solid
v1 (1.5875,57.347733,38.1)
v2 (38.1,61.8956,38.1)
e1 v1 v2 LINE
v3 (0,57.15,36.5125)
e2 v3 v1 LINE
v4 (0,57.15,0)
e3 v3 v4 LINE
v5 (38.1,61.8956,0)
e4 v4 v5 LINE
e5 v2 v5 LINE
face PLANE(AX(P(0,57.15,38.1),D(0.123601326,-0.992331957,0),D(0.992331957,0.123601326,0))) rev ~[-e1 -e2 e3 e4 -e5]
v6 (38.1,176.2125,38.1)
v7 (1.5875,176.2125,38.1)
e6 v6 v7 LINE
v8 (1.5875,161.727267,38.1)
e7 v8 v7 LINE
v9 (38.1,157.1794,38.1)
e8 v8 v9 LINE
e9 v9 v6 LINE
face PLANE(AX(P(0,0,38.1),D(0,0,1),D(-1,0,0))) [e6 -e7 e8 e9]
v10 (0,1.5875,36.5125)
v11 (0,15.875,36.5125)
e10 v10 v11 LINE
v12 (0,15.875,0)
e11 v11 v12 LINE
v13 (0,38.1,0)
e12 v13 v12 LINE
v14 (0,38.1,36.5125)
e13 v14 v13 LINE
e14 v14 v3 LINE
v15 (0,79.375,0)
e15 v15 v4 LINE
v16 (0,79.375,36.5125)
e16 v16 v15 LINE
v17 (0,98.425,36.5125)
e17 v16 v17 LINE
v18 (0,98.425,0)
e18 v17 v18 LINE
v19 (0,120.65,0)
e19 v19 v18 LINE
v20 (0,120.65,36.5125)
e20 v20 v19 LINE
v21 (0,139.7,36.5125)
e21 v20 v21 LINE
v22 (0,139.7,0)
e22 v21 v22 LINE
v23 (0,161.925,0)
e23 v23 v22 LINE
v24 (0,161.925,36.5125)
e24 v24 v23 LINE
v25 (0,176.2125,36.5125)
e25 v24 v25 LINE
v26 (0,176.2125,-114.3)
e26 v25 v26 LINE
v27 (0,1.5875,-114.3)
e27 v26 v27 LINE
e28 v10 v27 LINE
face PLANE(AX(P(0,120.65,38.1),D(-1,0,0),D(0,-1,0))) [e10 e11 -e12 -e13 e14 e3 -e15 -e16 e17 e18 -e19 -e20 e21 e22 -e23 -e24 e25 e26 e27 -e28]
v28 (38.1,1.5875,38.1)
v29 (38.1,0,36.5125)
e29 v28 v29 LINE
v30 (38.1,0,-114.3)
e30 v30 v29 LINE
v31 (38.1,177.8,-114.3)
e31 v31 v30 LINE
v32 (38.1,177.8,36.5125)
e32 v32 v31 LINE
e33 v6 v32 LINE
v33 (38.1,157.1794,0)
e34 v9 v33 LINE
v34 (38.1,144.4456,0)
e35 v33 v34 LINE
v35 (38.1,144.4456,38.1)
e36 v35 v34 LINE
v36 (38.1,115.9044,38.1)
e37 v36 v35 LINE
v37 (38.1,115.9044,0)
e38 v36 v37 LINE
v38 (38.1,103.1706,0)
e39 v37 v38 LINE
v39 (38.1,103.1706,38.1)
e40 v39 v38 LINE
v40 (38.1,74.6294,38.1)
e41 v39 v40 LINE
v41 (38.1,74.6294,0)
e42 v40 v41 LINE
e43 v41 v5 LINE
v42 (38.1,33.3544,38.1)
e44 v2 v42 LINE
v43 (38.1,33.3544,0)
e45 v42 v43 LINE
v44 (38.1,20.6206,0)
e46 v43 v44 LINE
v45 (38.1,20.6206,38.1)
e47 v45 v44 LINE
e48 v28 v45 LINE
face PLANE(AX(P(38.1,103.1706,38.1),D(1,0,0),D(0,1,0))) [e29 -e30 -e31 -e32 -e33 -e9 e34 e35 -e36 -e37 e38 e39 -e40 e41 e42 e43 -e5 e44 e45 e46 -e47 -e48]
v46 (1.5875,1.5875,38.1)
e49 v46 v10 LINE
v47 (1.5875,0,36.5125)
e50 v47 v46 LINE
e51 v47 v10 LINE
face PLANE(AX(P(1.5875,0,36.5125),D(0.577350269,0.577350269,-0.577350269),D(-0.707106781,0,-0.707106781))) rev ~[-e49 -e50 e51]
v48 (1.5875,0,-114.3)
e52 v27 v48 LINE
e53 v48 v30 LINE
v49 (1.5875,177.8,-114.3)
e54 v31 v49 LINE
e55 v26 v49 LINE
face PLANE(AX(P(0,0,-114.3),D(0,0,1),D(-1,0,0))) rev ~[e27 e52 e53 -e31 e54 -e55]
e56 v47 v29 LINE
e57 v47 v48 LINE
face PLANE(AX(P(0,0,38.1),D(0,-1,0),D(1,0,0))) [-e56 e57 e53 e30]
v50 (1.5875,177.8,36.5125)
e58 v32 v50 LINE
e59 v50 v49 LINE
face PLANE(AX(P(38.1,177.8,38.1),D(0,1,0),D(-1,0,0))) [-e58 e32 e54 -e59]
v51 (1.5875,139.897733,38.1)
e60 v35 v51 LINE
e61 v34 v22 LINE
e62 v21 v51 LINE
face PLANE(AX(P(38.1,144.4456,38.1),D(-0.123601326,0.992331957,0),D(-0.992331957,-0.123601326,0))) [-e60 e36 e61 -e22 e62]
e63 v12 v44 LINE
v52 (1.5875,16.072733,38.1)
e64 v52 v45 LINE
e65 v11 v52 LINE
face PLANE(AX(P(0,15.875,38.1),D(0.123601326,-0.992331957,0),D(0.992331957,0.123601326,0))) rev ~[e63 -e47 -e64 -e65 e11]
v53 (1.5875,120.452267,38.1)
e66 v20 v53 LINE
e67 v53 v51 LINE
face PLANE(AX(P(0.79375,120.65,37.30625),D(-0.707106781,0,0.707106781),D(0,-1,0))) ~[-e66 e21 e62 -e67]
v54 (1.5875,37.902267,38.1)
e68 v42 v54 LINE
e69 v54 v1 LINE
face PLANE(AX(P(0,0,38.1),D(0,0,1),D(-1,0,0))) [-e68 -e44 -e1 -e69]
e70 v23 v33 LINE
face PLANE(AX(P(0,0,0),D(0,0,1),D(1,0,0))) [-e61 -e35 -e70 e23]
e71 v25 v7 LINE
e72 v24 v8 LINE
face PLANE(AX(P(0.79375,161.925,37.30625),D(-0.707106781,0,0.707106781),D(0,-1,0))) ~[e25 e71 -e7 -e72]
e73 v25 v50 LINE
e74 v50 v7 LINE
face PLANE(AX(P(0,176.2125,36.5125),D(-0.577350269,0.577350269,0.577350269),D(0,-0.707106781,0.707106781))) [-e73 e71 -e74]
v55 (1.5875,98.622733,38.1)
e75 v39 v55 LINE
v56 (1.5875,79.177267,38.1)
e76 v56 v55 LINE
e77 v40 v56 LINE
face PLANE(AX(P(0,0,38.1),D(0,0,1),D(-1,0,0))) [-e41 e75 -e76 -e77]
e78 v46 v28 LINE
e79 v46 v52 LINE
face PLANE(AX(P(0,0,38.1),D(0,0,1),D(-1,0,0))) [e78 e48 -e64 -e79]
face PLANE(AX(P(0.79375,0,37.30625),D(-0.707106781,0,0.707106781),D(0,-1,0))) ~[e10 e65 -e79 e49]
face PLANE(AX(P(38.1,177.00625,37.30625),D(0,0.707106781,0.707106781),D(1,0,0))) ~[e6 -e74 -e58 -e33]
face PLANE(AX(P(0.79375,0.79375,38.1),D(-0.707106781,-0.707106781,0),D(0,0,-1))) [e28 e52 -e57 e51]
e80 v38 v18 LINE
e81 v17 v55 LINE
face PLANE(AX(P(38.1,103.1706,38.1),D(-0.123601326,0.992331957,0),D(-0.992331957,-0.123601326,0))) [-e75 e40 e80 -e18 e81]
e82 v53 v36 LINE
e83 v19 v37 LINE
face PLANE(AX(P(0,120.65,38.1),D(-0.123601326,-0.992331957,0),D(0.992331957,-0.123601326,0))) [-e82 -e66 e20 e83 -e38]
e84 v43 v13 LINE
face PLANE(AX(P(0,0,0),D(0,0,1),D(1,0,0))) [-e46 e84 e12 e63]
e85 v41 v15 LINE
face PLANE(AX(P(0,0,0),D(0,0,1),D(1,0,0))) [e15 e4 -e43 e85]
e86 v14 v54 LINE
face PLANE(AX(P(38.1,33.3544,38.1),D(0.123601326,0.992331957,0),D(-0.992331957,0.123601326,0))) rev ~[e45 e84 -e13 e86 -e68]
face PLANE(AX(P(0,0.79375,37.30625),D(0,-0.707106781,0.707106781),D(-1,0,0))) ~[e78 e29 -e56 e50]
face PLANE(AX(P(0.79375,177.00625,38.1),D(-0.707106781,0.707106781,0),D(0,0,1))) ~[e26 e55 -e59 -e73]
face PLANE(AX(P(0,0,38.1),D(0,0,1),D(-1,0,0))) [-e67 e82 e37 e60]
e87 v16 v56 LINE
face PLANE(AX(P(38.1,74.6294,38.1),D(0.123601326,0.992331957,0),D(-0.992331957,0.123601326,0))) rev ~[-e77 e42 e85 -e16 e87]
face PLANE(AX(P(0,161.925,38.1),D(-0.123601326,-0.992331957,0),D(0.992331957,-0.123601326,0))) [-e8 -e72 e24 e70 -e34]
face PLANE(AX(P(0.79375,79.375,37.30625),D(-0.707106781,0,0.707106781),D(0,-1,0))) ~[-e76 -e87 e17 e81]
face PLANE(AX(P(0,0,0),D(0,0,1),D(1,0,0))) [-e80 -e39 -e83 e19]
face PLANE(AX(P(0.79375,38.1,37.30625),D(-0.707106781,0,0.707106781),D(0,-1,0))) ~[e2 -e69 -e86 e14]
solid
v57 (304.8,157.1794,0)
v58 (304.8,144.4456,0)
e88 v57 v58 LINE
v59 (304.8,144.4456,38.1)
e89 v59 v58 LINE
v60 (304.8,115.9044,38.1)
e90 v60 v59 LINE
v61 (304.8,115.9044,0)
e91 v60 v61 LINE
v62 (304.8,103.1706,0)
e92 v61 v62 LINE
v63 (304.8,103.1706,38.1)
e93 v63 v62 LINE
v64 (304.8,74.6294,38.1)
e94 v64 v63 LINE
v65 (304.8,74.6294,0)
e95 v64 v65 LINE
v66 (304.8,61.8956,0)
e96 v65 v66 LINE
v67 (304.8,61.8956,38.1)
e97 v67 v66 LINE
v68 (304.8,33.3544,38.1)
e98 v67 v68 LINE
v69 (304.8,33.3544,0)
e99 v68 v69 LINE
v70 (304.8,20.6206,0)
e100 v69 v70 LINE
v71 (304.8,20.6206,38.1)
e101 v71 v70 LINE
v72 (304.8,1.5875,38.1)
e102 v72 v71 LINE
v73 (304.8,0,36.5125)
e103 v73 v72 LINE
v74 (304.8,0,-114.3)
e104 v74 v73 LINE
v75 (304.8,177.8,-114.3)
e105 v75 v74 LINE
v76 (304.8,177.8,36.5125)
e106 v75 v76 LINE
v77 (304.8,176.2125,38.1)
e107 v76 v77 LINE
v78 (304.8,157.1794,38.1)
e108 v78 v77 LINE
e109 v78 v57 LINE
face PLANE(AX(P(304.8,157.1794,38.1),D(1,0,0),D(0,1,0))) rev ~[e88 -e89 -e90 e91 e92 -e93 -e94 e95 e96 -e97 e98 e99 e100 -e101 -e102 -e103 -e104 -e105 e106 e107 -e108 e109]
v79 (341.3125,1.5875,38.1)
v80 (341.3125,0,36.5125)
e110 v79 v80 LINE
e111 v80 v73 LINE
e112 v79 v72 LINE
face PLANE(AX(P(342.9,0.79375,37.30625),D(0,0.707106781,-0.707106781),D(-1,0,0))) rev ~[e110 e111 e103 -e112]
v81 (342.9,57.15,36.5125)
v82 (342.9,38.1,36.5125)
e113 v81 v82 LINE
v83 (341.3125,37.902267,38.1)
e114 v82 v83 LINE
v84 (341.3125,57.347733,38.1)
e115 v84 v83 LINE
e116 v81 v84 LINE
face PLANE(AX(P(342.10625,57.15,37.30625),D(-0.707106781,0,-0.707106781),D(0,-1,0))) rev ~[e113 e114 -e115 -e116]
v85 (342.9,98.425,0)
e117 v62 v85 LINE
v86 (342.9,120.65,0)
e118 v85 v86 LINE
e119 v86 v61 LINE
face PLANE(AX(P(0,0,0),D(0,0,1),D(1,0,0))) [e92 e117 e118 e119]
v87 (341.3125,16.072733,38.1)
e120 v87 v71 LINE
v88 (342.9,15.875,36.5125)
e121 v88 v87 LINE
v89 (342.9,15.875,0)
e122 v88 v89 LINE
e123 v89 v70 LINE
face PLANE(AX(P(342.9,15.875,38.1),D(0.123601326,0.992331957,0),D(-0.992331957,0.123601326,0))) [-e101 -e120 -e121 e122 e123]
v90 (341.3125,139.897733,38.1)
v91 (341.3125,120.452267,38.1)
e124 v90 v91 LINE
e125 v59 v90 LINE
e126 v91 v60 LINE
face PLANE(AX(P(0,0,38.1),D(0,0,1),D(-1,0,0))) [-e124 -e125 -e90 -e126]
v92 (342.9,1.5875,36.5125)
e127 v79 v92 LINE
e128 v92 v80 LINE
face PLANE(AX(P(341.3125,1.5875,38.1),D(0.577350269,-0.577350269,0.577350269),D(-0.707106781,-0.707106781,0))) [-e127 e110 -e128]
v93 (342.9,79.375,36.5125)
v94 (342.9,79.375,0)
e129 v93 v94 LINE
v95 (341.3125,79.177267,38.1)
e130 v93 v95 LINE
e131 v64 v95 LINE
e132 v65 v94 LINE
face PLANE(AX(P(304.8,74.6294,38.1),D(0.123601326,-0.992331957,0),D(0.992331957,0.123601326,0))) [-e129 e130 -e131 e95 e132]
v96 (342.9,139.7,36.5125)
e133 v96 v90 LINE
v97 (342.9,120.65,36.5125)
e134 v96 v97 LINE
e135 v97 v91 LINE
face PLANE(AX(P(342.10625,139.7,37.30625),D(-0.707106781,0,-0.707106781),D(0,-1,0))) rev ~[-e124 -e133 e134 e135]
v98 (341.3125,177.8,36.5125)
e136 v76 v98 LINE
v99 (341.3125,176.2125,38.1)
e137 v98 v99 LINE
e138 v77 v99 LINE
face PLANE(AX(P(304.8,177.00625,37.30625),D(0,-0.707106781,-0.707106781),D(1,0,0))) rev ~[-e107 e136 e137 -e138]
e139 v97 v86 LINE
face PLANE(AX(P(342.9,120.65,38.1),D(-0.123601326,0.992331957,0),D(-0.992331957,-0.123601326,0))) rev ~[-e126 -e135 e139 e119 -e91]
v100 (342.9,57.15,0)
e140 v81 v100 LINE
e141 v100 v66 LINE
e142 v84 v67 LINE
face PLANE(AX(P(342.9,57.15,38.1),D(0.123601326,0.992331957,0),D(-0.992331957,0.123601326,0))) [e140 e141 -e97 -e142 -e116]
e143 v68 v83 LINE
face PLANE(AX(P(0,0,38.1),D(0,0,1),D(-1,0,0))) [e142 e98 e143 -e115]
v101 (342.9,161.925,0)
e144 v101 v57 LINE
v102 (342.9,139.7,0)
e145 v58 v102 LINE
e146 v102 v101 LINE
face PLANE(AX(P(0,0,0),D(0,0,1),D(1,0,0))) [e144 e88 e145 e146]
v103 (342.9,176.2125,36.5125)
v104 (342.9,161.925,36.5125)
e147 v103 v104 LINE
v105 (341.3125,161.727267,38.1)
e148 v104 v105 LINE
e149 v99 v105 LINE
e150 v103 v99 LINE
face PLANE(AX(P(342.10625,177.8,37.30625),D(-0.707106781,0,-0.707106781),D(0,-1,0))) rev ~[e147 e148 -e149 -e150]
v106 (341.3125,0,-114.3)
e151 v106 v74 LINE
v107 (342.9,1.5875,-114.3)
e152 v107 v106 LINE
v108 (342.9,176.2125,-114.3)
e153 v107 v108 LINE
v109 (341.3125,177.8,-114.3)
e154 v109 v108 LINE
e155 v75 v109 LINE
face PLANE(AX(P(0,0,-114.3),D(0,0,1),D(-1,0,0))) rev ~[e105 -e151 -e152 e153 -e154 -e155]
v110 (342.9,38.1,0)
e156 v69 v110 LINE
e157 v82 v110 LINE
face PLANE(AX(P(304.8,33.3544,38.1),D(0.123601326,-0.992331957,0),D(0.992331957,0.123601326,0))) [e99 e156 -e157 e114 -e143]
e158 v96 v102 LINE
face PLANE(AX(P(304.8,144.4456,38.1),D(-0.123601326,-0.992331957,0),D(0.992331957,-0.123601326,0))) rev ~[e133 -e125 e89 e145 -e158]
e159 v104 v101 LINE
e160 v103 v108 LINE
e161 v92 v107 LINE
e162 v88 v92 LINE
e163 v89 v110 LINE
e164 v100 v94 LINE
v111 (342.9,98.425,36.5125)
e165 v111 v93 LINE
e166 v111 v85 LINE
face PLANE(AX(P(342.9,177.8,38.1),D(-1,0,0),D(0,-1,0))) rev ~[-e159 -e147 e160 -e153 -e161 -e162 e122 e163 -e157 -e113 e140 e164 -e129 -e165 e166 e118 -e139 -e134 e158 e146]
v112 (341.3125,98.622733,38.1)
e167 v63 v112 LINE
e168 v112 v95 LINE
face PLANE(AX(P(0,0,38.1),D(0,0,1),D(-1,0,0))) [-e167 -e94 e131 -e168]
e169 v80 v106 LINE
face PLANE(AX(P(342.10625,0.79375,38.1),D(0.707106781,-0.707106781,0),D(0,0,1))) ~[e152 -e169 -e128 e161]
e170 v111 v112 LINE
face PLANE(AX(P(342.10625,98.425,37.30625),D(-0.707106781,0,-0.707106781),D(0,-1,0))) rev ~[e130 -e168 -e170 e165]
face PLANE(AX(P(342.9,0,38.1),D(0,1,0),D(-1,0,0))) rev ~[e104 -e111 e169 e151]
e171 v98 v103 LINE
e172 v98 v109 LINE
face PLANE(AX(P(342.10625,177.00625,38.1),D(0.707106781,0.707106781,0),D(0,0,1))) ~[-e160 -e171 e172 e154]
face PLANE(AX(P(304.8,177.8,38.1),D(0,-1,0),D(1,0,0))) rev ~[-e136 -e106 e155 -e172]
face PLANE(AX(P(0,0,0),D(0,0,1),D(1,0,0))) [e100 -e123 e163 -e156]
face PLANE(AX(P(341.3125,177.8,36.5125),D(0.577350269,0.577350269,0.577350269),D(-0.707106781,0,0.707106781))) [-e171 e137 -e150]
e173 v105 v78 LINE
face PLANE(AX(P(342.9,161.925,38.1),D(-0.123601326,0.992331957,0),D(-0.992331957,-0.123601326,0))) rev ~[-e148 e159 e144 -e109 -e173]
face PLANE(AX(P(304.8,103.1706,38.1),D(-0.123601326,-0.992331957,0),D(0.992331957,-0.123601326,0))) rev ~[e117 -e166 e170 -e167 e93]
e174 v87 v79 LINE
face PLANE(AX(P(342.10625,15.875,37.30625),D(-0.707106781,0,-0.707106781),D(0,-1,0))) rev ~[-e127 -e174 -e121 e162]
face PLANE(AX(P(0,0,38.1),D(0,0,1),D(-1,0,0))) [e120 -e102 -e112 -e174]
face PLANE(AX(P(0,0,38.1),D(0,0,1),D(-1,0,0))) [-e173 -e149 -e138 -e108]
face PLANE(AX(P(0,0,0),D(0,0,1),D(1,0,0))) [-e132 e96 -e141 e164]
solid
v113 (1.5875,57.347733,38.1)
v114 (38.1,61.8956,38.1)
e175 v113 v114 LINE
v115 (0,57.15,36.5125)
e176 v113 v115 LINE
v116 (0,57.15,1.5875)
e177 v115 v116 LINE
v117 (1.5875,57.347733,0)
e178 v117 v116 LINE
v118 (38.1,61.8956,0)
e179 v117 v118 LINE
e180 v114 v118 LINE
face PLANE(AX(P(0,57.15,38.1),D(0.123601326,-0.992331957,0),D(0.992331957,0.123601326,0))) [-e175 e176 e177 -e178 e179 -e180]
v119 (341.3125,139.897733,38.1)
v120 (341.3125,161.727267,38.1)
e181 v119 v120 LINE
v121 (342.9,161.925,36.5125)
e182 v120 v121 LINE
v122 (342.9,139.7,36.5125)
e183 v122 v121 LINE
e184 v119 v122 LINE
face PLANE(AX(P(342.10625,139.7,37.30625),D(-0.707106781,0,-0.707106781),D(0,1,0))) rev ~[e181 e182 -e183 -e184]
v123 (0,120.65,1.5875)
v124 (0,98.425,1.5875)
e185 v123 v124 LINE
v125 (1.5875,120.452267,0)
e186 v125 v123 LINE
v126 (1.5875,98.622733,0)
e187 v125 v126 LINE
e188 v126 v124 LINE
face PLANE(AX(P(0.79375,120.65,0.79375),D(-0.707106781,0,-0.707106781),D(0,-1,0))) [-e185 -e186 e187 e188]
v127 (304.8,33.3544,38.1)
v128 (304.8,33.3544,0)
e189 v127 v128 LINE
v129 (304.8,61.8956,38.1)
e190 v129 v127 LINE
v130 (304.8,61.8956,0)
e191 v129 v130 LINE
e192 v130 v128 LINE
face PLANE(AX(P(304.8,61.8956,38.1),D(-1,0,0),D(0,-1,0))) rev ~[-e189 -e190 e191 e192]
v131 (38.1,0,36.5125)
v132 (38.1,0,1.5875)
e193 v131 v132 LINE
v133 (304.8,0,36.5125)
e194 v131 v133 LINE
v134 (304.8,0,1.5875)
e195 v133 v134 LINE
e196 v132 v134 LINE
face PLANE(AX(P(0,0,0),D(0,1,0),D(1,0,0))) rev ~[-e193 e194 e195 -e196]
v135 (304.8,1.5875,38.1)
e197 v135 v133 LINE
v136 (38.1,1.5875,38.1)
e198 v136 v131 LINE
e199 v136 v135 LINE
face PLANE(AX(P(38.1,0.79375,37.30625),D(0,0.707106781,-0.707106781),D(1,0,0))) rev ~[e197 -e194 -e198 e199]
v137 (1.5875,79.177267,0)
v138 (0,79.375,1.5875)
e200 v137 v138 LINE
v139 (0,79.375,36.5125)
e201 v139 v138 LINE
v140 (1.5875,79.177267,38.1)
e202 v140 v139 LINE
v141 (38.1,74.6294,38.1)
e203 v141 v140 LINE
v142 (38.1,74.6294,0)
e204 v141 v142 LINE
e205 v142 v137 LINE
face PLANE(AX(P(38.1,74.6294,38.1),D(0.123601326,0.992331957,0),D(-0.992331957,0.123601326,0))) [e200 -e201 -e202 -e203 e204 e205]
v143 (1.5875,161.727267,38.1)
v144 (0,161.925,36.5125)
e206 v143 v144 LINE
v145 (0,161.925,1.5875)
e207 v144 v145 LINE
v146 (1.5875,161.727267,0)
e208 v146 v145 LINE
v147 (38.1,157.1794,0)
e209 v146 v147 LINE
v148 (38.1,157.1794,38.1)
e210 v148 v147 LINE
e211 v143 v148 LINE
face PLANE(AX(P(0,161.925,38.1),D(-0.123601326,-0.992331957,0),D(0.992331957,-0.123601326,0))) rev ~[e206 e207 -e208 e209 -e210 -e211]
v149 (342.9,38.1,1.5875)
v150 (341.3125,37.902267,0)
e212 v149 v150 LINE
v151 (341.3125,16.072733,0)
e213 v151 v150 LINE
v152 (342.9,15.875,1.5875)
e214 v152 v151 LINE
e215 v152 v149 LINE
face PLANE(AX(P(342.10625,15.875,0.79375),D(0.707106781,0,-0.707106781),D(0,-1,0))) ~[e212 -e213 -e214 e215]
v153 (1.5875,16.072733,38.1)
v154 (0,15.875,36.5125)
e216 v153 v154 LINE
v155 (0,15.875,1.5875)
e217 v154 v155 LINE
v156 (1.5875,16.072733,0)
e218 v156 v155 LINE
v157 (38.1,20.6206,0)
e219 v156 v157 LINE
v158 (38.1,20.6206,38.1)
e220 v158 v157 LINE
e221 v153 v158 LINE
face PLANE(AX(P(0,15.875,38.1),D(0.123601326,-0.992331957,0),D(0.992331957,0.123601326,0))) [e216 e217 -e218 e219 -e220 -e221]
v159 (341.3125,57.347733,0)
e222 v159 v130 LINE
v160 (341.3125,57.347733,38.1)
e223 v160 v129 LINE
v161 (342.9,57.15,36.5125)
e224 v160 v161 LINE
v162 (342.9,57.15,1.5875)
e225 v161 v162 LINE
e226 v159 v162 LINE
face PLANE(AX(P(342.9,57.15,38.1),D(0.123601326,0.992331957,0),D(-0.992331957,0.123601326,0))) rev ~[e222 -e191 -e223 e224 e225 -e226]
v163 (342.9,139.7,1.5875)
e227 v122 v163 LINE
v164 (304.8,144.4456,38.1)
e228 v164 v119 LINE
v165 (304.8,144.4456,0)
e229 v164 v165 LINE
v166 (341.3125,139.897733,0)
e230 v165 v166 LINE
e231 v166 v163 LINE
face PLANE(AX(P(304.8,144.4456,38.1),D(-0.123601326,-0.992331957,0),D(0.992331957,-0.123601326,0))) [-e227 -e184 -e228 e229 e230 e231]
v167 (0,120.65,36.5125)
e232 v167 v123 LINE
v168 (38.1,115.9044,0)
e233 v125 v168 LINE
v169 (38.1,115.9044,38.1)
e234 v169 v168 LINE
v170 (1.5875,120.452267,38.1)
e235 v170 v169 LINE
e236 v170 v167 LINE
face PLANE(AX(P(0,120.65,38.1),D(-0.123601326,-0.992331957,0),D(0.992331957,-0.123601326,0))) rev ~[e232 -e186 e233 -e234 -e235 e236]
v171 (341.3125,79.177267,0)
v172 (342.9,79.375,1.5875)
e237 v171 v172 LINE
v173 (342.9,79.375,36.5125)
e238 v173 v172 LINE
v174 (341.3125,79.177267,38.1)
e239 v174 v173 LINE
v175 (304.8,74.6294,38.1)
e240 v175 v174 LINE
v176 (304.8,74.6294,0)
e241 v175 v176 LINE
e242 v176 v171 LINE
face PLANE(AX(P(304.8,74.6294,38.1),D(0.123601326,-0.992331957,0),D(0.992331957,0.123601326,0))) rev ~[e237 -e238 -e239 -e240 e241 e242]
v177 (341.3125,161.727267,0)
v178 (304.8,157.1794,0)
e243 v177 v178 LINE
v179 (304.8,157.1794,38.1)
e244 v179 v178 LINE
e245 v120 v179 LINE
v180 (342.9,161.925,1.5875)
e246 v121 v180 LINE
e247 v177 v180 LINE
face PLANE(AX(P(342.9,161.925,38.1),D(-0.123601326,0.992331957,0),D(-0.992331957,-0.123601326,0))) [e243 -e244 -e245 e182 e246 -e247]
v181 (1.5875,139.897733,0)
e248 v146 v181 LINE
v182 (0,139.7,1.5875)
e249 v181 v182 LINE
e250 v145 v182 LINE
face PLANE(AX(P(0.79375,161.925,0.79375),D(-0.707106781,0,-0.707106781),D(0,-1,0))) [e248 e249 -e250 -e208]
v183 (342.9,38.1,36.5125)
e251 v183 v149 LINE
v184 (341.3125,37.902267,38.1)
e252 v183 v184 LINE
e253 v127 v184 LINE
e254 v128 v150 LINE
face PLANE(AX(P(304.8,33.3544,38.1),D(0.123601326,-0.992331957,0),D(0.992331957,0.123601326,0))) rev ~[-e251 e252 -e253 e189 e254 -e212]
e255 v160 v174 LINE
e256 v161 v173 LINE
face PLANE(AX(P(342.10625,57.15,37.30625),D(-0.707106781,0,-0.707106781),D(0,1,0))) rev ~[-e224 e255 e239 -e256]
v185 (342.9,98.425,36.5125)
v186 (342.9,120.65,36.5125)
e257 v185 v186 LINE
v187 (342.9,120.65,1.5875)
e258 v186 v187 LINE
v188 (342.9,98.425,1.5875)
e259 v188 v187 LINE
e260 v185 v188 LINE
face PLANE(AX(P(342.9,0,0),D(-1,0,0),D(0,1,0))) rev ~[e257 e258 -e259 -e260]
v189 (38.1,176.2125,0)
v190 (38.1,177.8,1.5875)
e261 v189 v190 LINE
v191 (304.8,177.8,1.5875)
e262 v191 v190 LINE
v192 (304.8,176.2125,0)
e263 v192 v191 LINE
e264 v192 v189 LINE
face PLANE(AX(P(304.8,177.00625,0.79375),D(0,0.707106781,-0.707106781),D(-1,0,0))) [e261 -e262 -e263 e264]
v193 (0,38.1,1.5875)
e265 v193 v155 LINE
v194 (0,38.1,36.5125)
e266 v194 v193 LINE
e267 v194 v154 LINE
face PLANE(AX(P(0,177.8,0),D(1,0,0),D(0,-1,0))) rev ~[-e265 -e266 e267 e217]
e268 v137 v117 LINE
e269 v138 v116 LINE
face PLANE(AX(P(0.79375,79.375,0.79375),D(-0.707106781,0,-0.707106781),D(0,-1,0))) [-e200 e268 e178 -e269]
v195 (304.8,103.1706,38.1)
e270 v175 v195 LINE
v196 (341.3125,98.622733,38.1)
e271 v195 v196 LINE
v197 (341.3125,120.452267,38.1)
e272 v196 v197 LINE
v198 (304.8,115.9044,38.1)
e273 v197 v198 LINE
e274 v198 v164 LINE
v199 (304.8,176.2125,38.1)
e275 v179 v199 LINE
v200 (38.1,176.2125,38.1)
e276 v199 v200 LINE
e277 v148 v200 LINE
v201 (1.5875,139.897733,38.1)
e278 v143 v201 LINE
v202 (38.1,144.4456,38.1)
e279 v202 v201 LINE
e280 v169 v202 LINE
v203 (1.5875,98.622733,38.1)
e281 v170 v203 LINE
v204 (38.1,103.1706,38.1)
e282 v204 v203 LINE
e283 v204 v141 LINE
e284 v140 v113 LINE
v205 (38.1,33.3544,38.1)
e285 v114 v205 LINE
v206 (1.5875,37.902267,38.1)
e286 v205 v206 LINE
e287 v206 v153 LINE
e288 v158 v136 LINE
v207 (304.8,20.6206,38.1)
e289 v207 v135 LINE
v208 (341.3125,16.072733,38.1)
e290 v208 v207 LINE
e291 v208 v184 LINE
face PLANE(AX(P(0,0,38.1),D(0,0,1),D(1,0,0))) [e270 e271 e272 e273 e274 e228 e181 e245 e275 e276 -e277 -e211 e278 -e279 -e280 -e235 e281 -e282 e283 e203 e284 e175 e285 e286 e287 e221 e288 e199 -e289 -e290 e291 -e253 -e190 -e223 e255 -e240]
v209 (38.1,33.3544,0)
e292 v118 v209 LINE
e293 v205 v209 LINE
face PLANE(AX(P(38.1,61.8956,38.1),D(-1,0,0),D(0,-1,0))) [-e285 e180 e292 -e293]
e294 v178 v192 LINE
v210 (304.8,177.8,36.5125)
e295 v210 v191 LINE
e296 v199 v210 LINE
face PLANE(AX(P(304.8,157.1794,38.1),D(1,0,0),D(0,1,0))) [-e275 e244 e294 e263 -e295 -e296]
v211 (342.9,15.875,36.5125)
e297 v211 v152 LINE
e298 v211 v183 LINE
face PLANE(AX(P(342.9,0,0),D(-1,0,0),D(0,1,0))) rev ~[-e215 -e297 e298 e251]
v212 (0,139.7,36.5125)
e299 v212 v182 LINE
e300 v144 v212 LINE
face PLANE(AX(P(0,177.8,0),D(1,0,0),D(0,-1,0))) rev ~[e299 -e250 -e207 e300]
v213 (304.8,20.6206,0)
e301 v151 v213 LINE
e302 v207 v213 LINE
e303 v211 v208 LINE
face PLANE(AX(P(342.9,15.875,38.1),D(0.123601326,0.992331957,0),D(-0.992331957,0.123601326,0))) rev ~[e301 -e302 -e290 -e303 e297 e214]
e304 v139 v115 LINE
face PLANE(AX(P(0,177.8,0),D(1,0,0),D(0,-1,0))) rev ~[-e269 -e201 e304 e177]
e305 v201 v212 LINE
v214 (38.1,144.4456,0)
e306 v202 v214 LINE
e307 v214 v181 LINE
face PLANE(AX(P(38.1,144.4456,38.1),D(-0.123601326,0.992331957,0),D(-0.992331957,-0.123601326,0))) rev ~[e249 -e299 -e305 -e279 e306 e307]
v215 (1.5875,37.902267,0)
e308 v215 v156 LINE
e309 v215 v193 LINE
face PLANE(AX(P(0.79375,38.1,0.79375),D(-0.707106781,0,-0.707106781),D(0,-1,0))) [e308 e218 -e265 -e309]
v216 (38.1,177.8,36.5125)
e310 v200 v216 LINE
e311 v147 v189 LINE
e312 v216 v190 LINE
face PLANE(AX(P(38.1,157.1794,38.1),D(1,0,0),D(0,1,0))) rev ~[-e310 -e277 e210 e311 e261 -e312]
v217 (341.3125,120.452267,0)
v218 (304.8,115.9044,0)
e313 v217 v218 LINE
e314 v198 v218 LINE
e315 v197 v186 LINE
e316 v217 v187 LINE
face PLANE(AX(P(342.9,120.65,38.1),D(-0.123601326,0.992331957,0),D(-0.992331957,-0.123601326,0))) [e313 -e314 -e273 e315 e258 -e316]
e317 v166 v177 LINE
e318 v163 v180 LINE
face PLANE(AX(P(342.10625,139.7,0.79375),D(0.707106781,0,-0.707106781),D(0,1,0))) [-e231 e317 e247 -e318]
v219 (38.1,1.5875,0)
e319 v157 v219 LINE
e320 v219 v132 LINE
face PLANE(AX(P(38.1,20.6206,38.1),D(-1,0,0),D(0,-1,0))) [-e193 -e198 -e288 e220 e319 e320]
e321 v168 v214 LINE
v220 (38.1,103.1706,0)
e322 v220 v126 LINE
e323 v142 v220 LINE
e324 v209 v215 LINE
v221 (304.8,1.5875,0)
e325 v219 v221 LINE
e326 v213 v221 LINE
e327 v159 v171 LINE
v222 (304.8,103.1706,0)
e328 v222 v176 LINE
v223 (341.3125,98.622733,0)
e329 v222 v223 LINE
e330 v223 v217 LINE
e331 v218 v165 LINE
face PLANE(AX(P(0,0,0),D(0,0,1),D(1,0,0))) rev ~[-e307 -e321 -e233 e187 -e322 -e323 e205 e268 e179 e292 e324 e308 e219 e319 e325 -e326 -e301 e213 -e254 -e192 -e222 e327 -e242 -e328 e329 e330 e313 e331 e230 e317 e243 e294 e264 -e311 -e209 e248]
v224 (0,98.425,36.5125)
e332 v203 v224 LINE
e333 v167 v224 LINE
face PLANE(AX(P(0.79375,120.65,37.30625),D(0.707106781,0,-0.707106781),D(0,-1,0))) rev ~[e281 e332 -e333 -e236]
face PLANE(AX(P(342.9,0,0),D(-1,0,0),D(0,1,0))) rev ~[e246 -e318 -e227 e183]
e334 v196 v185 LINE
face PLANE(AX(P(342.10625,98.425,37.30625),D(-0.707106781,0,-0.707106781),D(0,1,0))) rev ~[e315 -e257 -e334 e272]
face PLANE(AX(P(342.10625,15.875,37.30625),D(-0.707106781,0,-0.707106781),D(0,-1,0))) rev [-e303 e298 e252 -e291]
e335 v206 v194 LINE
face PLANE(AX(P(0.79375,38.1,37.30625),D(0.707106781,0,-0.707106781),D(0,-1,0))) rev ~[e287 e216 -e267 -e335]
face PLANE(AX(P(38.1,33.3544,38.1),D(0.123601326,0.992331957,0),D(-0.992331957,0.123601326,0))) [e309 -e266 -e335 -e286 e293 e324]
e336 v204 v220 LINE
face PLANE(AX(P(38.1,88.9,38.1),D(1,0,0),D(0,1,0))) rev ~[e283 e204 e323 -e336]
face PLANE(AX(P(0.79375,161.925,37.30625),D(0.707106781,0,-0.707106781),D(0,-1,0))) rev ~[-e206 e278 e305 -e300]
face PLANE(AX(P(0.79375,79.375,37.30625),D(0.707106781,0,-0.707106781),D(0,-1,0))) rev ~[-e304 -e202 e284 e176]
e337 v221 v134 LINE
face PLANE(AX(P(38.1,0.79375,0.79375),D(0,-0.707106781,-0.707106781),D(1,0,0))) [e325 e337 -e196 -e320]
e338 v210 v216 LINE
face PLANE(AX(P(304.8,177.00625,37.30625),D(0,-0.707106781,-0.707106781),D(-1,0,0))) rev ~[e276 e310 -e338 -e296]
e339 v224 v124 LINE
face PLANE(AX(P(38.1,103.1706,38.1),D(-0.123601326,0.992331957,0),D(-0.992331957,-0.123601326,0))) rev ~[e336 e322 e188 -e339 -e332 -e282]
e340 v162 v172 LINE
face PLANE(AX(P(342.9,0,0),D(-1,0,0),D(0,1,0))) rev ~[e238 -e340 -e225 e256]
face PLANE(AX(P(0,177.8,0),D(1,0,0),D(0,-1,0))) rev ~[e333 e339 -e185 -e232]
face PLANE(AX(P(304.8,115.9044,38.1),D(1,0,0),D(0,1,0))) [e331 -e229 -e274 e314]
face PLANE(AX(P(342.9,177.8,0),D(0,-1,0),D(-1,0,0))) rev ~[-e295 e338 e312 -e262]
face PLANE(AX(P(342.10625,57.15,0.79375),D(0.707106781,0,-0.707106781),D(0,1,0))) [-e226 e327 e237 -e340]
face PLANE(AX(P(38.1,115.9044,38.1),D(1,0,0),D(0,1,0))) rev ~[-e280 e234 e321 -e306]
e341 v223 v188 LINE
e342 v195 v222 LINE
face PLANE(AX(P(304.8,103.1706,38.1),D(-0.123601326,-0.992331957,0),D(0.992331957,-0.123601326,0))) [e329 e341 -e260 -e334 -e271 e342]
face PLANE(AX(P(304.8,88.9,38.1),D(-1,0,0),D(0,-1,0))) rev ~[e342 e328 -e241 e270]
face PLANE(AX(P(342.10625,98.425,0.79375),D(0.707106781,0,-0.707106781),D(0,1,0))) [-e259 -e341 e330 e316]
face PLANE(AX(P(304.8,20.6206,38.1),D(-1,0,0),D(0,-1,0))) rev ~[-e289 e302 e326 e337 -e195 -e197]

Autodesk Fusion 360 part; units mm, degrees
sketch "Sketch1" plane through (0, 0, 0) normal (0, 0, 1) x (1, 0, 0) in component "Top"
  line L0 (38.1, 184.15) -> (38.1, 0) construction
  line L1 (342.9, 92.075) -> (0, 92.075) construction
  line L2 (38.1, 92.075) -> (38.1, 74.6294)
  line L3 (38.1, 74.6294) -> (0, 79.375)
  line L4 (0, 79.375) -> (0, 57.15)
  line L5 (0, 57.15) -> (38.1, 61.8956)
  line L6 (38.1, 61.8956) -> (38.1, 33.3544)
  line L7 (38.1, 33.3544) -> (0, 38.1)
  line L8 (0, 38.1) -> (0, 15.875)
  line L9 (0, 15.875) -> (38.1, 20.6206)
  line L10 (38.1, 20.6206) -> (38.1, 0)
  line L11 (0, 92.075) -> (0, 0) construction
  line L12 (38.1, 163.5294) -> (38.1, 184.15)
  line L13 (0, 168.275) -> (38.1, 163.5294)
  line L14 (0, 146.05) -> (0, 168.275)
  line L15 (38.1, 150.7956) -> (0, 146.05)
  line L16 (38.1, 122.2544) -> (38.1, 150.7956)
  line L17 (0, 127) -> (38.1, 122.2544)
  line L18 (0, 104.775) -> (0, 127)
  line L19 (38.1, 109.5206) -> (0, 104.775)
  line L20 (38.1, 92.075) -> (38.1, 109.5206)
  line L21 (171.45, 0) -> (171.45, 398.9045) construction
  line L22 (342.9, 104.775) -> (342.9, 127)
  line L23 (304.8, 92.075) -> (304.8, 109.5206)
  line L24 (342.9, 15.875) -> (304.8, 20.6206)
  line L25 (304.8, 109.5206) -> (342.9, 104.775)
  line L26 (342.9, 127) -> (304.8, 122.2544)
  line L27 (304.8, 163.5294) -> (304.8, 184.15)
  line L28 (304.8, 74.6294) -> (342.9, 79.375)
  line L29 (304.8, 92.075) -> (304.8, 74.6294)
  line L30 (304.8, 122.2544) -> (304.8, 150.7956)
  line L31 (342.9, 168.275) -> (304.8, 163.5294)
  line L32 (304.8, 33.3544) -> (342.9, 38.1)
  line L33 (304.8, 184.15) -> (304.8, 0) construction
  line L34 (304.8, 20.6206) -> (304.8, 0)
  line L35 (304.8, 61.8956) -> (304.8, 33.3544)
  line L36 (342.9, 92.075) -> (342.9, 0) construction
  line L37 (342.9, 146.05) -> (342.9, 168.275)
  line L38 (342.9, 79.375) -> (342.9, 57.15)
  line L39 (304.8, 150.7956) -> (342.9, 146.05)
  line L40 (342.9, 38.1) -> (342.9, 15.875)
  line L41 (342.9, 57.15) -> (304.8, 61.8956)
  line L42 (38.1, 184.15) -> (304.8, 184.15)
  line L43 (38.1, 0) -> (304.8, 0)
  point P0 (342.9, 0)
  dimension "d5" = 38.1
  dimension "d6" = 82.9
  dimension "d8" = 82.9
  dimension "d9" = 82.9
  dimension "d10" = 82.9
  dimension "d11" = 12.7
  dimension "d12" = 22.225
  dimension "d13" = 15.875
  dimension "d14" = 22.225
  dimension "d15" = 92.075
  dimension "d16" = 342.9
  dimension "d17" = 184.15
sketch "Sketch2" plane through (0, 0, 0) normal (0, 0, 1) x (1, 0, 0) in component "Top"
  line L0 (3.0624, 88.9) -> (129.9288, 88.9) construction
  line L1 (38.1, 0) -> (38.1, 20.6206)
  line L2 (38.1, 20.6206) -> (0, 15.875)
  line L3 (0, 15.875) -> (0, 38.1)
  line L4 (0, 38.1) -> (38.1, 33.3544)
  line L5 (38.1, 33.3544) -> (38.1, 61.8956)
  line L6 (38.1, 61.8956) -> (0, 57.15)
  line L7 (0, 57.15) -> (0, 79.375)
  line L8 (0, 79.375) -> (38.1, 74.6294)
  line L9 (38.1, 74.6294) -> (38.1, 88.9)
  line L10 (38.1, 61.8956) -> (38.1, 74.6294) construction
  line L11 (0, 0) -> (101.4226, 0) construction
  line L12 (0, 0) -> (0, 254.7903) construction
  line L13 (38.1, 177.8) -> (38.1, 157.1794)
  line L14 (38.1, 157.1794) -> (0, 161.925)
  line L15 (0, 161.925) -> (0, 139.7)
  line L16 (0, 139.7) -> (38.1, 144.4456)
  line L17 (38.1, 144.4456) -> (38.1, 115.9044)
  line L18 (38.1, 115.9044) -> (0, 120.65)
  line L19 (0, 120.65) -> (0, 98.425)
  line L20 (0, 98.425) -> (38.1, 103.1706)
  line L21 (38.1, 103.1706) -> (38.1, 88.9)
  line L22 (171.45, -19.8765) -> (171.45, 334.6379) construction
  line L23 (304.8, 61.8956) -> (304.8, 74.6294) construction
  line L24 (304.8, 74.6294) -> (304.8, 88.9)
  line L25 (342.9, 38.1) -> (304.8, 33.3544)
  line L26 (342.9, 79.375) -> (304.8, 74.6294)
  line L27 (304.8, 0) -> (304.8, 20.6206)
  line L28 (342.9, 120.65) -> (342.9, 98.425)
  line L29 (304.8, 20.6206) -> (342.9, 15.875)
  line L30 (342.9, 161.925) -> (342.9, 139.7)
  line L31 (342.9, 139.7) -> (304.8, 144.4456)
  line L32 (304.8, 33.3544) -> (304.8, 61.8956)
  line L33 (304.8, 177.8) -> (304.8, 157.1794)
  line L34 (304.8, 103.1706) -> (304.8, 88.9)
  line L35 (304.8, 157.1794) -> (342.9, 161.925)
  line L36 (304.8, 115.9044) -> (342.9, 120.65)
  line L37 (342.9, 15.875) -> (342.9, 38.1)
  line L38 (342.9, 98.425) -> (304.8, 103.1706)
  line L39 (304.8, 144.4456) -> (304.8, 115.9044)
  line L40 (342.9, 57.15) -> (342.9, 79.375)
  line L41 (304.8, 61.8956) -> (342.9, 57.15)
  line L42 (38.1, 0) -> (304.8, 0)
  line L43 (38.1, 177.8) -> (304.8, 177.8)
  line L44 (342.9, 177.8) -> (0, 177.8)
  line L45 (0, 177.8) -> (0, 0)
  line L46 (0, 0) -> (342.9, 0)
  line L47 (342.9, 0) -> (342.9, 177.8)
  line L48 (0, 177.8) -> (0, 0)
  line L49 (38.1, 177.8) -> (38.1, 0)
  point P0 (342.9, 0)
  point P1 (339.8376, 88.9)
  point P2 (342.9, 0)
  point P3 (342.9, 0)
  dimension "d21" = 88.9
  dimension "d22" = 38.1
  dimension "d24" = 82.9
  dimension "d25" = 38.1
  dimension "d26" = 97.1
  dimension "d27" = 9.525
  dimension "d28" = 15.875
  dimension "d30" = 22.225
  dimension "d31" = 22.225
  dimension "d32" = 171.45
sketch "Sketch3" plane through (0, 0, 0) normal (0, 0, 1) x (1, 0, 0) in component "Top"
  line L0 (342.9, 177.8) -> (0, 177.8)
  line L1 (0, 177.8) -> (0, 0)
  line L2 (0, 0) -> (342.9, 0)
  line L3 (342.9, 0) -> (342.9, 177.8)
  dimension "d33" = 177.8
  dimension "d34" = 342.9
extrude "Extrude1" add sketch "Sketch3" along normal blind 38.1 makes body 1 in component "Top"
sketch "Sketch4" plane through (0, 0, 38.1) normal (0, 0, 1) x (-1, 0, 0) in component "Top"
  line L0 (-342.9, 0) -> (-342.9, -177.8)
  line L1 (-342.9, -177.8) -> (0, -177.8)
  line L2 (0, -177.8) -> (0, 0)
  line L3 (0, 0) -> (-342.9, 0)
  line L4 (0, -88.9) -> (-342.9, -88.9) construction
  line L5 (-171.45, -177.8) -> (-171.45, 0)
  line L6 (-38.1, -177.8) -> (-38.1, 0) construction
  line L7 (-38.1, -88.9) -> (-38.1, -74.6294)
  line L8 (-38.1, -74.6294) -> (0, -79.375)
  line L9 (0, -79.375) -> (0, -57.15)
  line L10 (0, -57.15) -> (-38.1, -61.8956)
  line L11 (-38.1, -61.8956) -> (-38.1, -33.3544)
  line L12 (-38.1, -33.3544) -> (0, -38.1)
  line L13 (0, -38.1) -> (0, -15.875)
  line L14 (0, -15.875) -> (-38.1, -20.6206)
  line L15 (-38.1, -20.6206) -> (-38.1, 0)
  line L16 (-38.1, -157.1794) -> (-38.1, -177.8)
  line L17 (0, -161.925) -> (-38.1, -157.1794)
  line L18 (0, -139.7) -> (0, -161.925)
  line L19 (-38.1, -144.4456) -> (0, -139.7)
  line L20 (-38.1, -115.9044) -> (-38.1, -144.4456)
  line L21 (0, -120.65) -> (-38.1, -115.9044)
  line L22 (0, -98.425) -> (0, -120.65)
  line L23 (-38.1, -103.1706) -> (0, -98.425)
  line L24 (-38.1, -88.9) -> (-38.1, -103.1706)
  line L25 (-304.8, -177.8) -> (-304.8, 0) construction
  line L26 (-342.9, -161.925) -> (-304.8, -157.1794)
  line L27 (-342.9, -139.7) -> (-342.9, -161.925)
  line L28 (-304.8, -144.4456) -> (-342.9, -139.7)
  line L29 (-304.8, -115.9044) -> (-304.8, -144.4456)
  line L30 (-342.9, -120.65) -> (-304.8, -115.9044)
  line L31 (-342.9, -98.425) -> (-342.9, -120.65)
  line L32 (-304.8, -103.1706) -> (-342.9, -98.425)
  line L33 (-304.8, -88.9) -> (-304.8, -103.1706)
  line L34 (-304.8, -74.6294) -> (-342.9, -79.375)
  line L35 (-342.9, -79.375) -> (-342.9, -57.15)
  line L36 (-342.9, -57.15) -> (-304.8, -61.8956)
  line L37 (-304.8, -61.8956) -> (-304.8, -33.3544)
  line L38 (-304.8, -33.3544) -> (-342.9, -38.1)
  line L39 (-342.9, -38.1) -> (-342.9, -15.875)
  line L40 (-342.9, -15.875) -> (-304.8, -20.6206)
  line L41 (-304.8, -20.6206) -> (-304.8, 0)
  line L42 (-304.8, -157.1794) -> (-304.8, -177.8)
  line L43 (-304.8, -103.1706) -> (-304.8, -74.6294)
  point P0 (-38.1, -88.9)
  dimension "d37" = 38.1
  dimension "d38" = 38.1
  dimension "d40" = 82.9
  dimension "d41" = 9.525
  dimension "d42" = 88.9
  dimension "d43" = 22.225
  dimension "d44" = 82.9
  dimension "d45" = 82.9
  dimension "d46" = 82.9
  dimension "d47" = 22.225
  dimension "d48" = 15.875
extrude "Extrude2" cut sketch "Sketch4" against normal through all contours L0 L3 L40 L41 | L0 L36 L37 L38 | L2 L3 L14 L15 | L0 L32 L33 L34 L43 | L0 L1 L26 L42 | L1 L2 L16 L17 | L0 L28 L29 L30 | L2 L10 L11 L12 | L2 L19 L20 L21 | L2 L7 L8 L23 L24 bodies 1 in component "Top"
sketch "Sketch5" plane through (0, 0, 38.1) normal (0, 0, 1) x (-1, 0, 0) in component "Top"
  line L0 (0, -98.425) -> (-38.1, -103.1706)
  line L1 (-38.1, -103.1706) -> (-38.1, -74.6294)
  line L2 (-38.1, -74.6294) -> (0, -79.375)
  line L3 (0, -79.375) -> (0, -57.15)
  line L4 (0, -57.15) -> (-38.1, -61.8956)
  line L5 (-38.1, -61.8956) -> (-38.1, -33.3544)
  line L6 (-38.1, -33.3544) -> (0, -38.1)
  line L7 (0, -38.1) -> (0, -15.875)
  line L8 (0, -15.875) -> (-38.1, -20.6206)
  line L9 (-38.1, -20.6206) -> (-38.1, 0)
  line L10 (-38.1, 0) -> (-304.8, 0)
  line L11 (-304.8, 0) -> (-304.8, -20.6206)
  line L12 (-304.8, -20.6206) -> (-342.9, -15.875)
  line L13 (-342.9, -15.875) -> (-342.9, -38.1)
  line L14 (-342.9, -38.1) -> (-304.8, -33.3544)
  line L15 (-304.8, -33.3544) -> (-304.8, -61.8956)
  line L16 (-304.8, -61.8956) -> (-342.9, -57.15)
  line L17 (-342.9, -57.15) -> (-342.9, -79.375)
  line L18 (-342.9, -79.375) -> (-304.8, -74.6294)
  line L19 (-304.8, -74.6294) -> (-304.8, -103.1706)
  line L20 (-304.8, -103.1706) -> (-342.9, -98.425)
  line L21 (-342.9, -98.425) -> (-342.9, -120.65)
  line L22 (-342.9, -120.65) -> (-304.8, -115.9044)
  line L23 (-304.8, -115.9044) -> (-304.8, -144.4456)
  line L24 (-304.8, -144.4456) -> (-342.9, -139.7)
  line L25 (-342.9, -139.7) -> (-342.9, -161.925)
  line L26 (-342.9, -161.925) -> (-304.8, -157.1794)
  line L27 (-304.8, -157.1794) -> (-304.8, -177.8)
  line L28 (-304.8, -177.8) -> (-38.1, -177.8)
  line L29 (-38.1, -177.8) -> (-38.1, -157.1794)
  line L30 (-38.1, -157.1794) -> (0, -161.925)
  line L31 (0, -161.925) -> (0, -139.7)
  line L32 (0, -139.7) -> (-38.1, -144.4456)
  line L33 (-38.1, -144.4456) -> (-38.1, -115.9044)
  line L34 (-38.1, -115.9044) -> (0, -120.65)
  line L35 (0, -120.65) -> (0, -98.425)
  line L36 (-38.1, -177.8) -> (0, -177.8)
  line L37 (0, -177.8) -> (0, 0)
  line L38 (0, 0) -> (-38.1, 0)
  line L39 (-38.1, 0) -> (-38.1, -177.8)
  line L40 (-304.8, -177.8) -> (-342.9, -177.8)
  line L41 (-342.9, -177.8) -> (-342.9, 0)
  line L42 (-342.9, 0) -> (-304.8, 0)
  line L43 (-304.8, 0) -> (-304.8, -177.8)
extrude "Extrude1'" add sketch "Sketch5" against normal blind 152.4 separate body contours L0 L34 L35 L37 L39 | L0 L1 L2 L37 L39 | L32 L33 L34 L37 L39 | L2 L3 L4 L37 L39 | L30 L31 L32 L37 L39 | L4 L5 L6 L37 L39 | L29 L30 L36 L37 L39 | L6 L7 L8 L37 L39 | L8 L9 L37 L38 L39 makes body 2 in component "Left"
extrude "Extrude1''" add sketch "Sketch5" against normal blind 152.4 separate body contours L26 L27 L40 L41 L43 | L11 L12 L41 L42 L43 | L24 L25 L26 L41 L43 | L12 L13 L14 L41 L43 | L22 L23 L24 L41 L43 | L14 L15 L16 L41 L43 | L20 L21 L22 L41 L43 | L16 L17 L18 L41 L43 | L18 L19 L20 L41 L43 makes body 3 in component "Right"
combine "Combine1" operation cut target body 2 tool bodies 1 keep tools in component "Left"
combine "Combine1'" operation cut target body 3 tool bodies 1 keep tools in component "Right"
chamfer "Chamfer1" distance 1.5875 angle 45 20 edges at (171.45, 0, 38.1) (171.45, 0, 0) (342.9, 68.2625, 38.1) (342.9, 109.5375, 38.1) (342.9, 26.9875, 38.1) (342.9, 150.8125, 38.1) (342.9, 150.8125, 0) (342.9, 68.2625, 0) (342.9, 109.5375, 0) (342.9, 26.9875, 0) (171.45, 177.8, 38.1) (171.45, 177.8, 0) (0, 109.5375, 38.1) (0, 68.2625, 38.1) (0, 26.9875, 38.1) (0, 150.8125, 38.1) (0, 26.9875, 0) (0, 109.5375, 0) (0, 68.2625, 0) (0, 150.8125, 0) on bodies 1 in component "Top"
chamfer "Chamfer2" distance 1.5875 angle 45 9 edges at (342.9, 0, -38.1) (342.9, 7.9375, 38.1) (342.9, 47.625, 38.1) (342.9, 88.9, 38.1) (342.9, 130.175, 38.1) (342.9, 169.8625, 38.1) (342.9, 177.8, -38.1) (323.85, 177.8, 38.1) (323.85, 0, 38.1) on bodies 3 in component "Right"
chamfer "Chamfer5" distance 1.5875 angle 45 9 edges at (19.05, 177.8, 38.1) (0, 177.8, -38.1) (0, 169.8625, 38.1) (0, 130.175, 38.1) (0, 88.9, 38.1) (0, 47.625, 38.1) (0, 7.9375, 38.1) (19.05, 0, 38.1) (0, 0, -38.1) on bodies 2 in component "Left"
component "Top" placed x (1, 0, 0) y (0, 1, 0) z (0, 0, 1) at (0, 0, 0)
component "Left" placed x (1, 0, 0) y (0, 1, 0) z (0, 0, 1) at (0, 0, 0)
component "Right" placed x (1, 0, 0) y (0, 1, 0) z (0, 0, 1) at (0, 0, 0)
equation "material_thickness = 1.5 in"
equation "d5 = material_thickness"
equation "d6 = 90 deg - dovetail_angle"
equation "dovetail_angle = 7.1 deg"
equation "d8 = 90 deg - dovetail_angle"
equation "d9 = 90 deg - dovetail_angle"
equation "d10 = 90 deg - dovetail_angle"
equation "d12 = ( 7 / 8 ) * 1 in"
equation "d13 = ( 5 / 8 ) * 1 in"
equation "d14 = d12"
equation "d21 = ( 7 / 2 ) * 1 in"
equation "d22 = material_thickness"
equation "d24 = 90 deg - dovetail_angle"
equation "d26 = 90 deg + dovetail_angle"
equation "d27 = ( 3 / 8 ) * 1 in"
equation "d28 = ( 5 / 8 ) * 1 in"
equation "d30 = ( 7 / 8 ) * 1 in"
equation "d31 = d30"
equation "d32 = ( 13.5 / 2 ) * 1 in"
equation "d35 = material_thickness"
equation "d37 = material_thickness"
equation "d38 = material_thickness"
equation "d40 = 90 deg - dovetail_angle"
equation "d44 = 90 deg - dovetail_angle"
equation "d45 = d44"
equation "d46 = d45"
equation "d47 = d43"
equation "d54 = chamfer_amt"
equation "chamfer_amt = 0.0625 in"
equation "d61 = chamfer_amt"
equation "d62 = chamfer_amt"
